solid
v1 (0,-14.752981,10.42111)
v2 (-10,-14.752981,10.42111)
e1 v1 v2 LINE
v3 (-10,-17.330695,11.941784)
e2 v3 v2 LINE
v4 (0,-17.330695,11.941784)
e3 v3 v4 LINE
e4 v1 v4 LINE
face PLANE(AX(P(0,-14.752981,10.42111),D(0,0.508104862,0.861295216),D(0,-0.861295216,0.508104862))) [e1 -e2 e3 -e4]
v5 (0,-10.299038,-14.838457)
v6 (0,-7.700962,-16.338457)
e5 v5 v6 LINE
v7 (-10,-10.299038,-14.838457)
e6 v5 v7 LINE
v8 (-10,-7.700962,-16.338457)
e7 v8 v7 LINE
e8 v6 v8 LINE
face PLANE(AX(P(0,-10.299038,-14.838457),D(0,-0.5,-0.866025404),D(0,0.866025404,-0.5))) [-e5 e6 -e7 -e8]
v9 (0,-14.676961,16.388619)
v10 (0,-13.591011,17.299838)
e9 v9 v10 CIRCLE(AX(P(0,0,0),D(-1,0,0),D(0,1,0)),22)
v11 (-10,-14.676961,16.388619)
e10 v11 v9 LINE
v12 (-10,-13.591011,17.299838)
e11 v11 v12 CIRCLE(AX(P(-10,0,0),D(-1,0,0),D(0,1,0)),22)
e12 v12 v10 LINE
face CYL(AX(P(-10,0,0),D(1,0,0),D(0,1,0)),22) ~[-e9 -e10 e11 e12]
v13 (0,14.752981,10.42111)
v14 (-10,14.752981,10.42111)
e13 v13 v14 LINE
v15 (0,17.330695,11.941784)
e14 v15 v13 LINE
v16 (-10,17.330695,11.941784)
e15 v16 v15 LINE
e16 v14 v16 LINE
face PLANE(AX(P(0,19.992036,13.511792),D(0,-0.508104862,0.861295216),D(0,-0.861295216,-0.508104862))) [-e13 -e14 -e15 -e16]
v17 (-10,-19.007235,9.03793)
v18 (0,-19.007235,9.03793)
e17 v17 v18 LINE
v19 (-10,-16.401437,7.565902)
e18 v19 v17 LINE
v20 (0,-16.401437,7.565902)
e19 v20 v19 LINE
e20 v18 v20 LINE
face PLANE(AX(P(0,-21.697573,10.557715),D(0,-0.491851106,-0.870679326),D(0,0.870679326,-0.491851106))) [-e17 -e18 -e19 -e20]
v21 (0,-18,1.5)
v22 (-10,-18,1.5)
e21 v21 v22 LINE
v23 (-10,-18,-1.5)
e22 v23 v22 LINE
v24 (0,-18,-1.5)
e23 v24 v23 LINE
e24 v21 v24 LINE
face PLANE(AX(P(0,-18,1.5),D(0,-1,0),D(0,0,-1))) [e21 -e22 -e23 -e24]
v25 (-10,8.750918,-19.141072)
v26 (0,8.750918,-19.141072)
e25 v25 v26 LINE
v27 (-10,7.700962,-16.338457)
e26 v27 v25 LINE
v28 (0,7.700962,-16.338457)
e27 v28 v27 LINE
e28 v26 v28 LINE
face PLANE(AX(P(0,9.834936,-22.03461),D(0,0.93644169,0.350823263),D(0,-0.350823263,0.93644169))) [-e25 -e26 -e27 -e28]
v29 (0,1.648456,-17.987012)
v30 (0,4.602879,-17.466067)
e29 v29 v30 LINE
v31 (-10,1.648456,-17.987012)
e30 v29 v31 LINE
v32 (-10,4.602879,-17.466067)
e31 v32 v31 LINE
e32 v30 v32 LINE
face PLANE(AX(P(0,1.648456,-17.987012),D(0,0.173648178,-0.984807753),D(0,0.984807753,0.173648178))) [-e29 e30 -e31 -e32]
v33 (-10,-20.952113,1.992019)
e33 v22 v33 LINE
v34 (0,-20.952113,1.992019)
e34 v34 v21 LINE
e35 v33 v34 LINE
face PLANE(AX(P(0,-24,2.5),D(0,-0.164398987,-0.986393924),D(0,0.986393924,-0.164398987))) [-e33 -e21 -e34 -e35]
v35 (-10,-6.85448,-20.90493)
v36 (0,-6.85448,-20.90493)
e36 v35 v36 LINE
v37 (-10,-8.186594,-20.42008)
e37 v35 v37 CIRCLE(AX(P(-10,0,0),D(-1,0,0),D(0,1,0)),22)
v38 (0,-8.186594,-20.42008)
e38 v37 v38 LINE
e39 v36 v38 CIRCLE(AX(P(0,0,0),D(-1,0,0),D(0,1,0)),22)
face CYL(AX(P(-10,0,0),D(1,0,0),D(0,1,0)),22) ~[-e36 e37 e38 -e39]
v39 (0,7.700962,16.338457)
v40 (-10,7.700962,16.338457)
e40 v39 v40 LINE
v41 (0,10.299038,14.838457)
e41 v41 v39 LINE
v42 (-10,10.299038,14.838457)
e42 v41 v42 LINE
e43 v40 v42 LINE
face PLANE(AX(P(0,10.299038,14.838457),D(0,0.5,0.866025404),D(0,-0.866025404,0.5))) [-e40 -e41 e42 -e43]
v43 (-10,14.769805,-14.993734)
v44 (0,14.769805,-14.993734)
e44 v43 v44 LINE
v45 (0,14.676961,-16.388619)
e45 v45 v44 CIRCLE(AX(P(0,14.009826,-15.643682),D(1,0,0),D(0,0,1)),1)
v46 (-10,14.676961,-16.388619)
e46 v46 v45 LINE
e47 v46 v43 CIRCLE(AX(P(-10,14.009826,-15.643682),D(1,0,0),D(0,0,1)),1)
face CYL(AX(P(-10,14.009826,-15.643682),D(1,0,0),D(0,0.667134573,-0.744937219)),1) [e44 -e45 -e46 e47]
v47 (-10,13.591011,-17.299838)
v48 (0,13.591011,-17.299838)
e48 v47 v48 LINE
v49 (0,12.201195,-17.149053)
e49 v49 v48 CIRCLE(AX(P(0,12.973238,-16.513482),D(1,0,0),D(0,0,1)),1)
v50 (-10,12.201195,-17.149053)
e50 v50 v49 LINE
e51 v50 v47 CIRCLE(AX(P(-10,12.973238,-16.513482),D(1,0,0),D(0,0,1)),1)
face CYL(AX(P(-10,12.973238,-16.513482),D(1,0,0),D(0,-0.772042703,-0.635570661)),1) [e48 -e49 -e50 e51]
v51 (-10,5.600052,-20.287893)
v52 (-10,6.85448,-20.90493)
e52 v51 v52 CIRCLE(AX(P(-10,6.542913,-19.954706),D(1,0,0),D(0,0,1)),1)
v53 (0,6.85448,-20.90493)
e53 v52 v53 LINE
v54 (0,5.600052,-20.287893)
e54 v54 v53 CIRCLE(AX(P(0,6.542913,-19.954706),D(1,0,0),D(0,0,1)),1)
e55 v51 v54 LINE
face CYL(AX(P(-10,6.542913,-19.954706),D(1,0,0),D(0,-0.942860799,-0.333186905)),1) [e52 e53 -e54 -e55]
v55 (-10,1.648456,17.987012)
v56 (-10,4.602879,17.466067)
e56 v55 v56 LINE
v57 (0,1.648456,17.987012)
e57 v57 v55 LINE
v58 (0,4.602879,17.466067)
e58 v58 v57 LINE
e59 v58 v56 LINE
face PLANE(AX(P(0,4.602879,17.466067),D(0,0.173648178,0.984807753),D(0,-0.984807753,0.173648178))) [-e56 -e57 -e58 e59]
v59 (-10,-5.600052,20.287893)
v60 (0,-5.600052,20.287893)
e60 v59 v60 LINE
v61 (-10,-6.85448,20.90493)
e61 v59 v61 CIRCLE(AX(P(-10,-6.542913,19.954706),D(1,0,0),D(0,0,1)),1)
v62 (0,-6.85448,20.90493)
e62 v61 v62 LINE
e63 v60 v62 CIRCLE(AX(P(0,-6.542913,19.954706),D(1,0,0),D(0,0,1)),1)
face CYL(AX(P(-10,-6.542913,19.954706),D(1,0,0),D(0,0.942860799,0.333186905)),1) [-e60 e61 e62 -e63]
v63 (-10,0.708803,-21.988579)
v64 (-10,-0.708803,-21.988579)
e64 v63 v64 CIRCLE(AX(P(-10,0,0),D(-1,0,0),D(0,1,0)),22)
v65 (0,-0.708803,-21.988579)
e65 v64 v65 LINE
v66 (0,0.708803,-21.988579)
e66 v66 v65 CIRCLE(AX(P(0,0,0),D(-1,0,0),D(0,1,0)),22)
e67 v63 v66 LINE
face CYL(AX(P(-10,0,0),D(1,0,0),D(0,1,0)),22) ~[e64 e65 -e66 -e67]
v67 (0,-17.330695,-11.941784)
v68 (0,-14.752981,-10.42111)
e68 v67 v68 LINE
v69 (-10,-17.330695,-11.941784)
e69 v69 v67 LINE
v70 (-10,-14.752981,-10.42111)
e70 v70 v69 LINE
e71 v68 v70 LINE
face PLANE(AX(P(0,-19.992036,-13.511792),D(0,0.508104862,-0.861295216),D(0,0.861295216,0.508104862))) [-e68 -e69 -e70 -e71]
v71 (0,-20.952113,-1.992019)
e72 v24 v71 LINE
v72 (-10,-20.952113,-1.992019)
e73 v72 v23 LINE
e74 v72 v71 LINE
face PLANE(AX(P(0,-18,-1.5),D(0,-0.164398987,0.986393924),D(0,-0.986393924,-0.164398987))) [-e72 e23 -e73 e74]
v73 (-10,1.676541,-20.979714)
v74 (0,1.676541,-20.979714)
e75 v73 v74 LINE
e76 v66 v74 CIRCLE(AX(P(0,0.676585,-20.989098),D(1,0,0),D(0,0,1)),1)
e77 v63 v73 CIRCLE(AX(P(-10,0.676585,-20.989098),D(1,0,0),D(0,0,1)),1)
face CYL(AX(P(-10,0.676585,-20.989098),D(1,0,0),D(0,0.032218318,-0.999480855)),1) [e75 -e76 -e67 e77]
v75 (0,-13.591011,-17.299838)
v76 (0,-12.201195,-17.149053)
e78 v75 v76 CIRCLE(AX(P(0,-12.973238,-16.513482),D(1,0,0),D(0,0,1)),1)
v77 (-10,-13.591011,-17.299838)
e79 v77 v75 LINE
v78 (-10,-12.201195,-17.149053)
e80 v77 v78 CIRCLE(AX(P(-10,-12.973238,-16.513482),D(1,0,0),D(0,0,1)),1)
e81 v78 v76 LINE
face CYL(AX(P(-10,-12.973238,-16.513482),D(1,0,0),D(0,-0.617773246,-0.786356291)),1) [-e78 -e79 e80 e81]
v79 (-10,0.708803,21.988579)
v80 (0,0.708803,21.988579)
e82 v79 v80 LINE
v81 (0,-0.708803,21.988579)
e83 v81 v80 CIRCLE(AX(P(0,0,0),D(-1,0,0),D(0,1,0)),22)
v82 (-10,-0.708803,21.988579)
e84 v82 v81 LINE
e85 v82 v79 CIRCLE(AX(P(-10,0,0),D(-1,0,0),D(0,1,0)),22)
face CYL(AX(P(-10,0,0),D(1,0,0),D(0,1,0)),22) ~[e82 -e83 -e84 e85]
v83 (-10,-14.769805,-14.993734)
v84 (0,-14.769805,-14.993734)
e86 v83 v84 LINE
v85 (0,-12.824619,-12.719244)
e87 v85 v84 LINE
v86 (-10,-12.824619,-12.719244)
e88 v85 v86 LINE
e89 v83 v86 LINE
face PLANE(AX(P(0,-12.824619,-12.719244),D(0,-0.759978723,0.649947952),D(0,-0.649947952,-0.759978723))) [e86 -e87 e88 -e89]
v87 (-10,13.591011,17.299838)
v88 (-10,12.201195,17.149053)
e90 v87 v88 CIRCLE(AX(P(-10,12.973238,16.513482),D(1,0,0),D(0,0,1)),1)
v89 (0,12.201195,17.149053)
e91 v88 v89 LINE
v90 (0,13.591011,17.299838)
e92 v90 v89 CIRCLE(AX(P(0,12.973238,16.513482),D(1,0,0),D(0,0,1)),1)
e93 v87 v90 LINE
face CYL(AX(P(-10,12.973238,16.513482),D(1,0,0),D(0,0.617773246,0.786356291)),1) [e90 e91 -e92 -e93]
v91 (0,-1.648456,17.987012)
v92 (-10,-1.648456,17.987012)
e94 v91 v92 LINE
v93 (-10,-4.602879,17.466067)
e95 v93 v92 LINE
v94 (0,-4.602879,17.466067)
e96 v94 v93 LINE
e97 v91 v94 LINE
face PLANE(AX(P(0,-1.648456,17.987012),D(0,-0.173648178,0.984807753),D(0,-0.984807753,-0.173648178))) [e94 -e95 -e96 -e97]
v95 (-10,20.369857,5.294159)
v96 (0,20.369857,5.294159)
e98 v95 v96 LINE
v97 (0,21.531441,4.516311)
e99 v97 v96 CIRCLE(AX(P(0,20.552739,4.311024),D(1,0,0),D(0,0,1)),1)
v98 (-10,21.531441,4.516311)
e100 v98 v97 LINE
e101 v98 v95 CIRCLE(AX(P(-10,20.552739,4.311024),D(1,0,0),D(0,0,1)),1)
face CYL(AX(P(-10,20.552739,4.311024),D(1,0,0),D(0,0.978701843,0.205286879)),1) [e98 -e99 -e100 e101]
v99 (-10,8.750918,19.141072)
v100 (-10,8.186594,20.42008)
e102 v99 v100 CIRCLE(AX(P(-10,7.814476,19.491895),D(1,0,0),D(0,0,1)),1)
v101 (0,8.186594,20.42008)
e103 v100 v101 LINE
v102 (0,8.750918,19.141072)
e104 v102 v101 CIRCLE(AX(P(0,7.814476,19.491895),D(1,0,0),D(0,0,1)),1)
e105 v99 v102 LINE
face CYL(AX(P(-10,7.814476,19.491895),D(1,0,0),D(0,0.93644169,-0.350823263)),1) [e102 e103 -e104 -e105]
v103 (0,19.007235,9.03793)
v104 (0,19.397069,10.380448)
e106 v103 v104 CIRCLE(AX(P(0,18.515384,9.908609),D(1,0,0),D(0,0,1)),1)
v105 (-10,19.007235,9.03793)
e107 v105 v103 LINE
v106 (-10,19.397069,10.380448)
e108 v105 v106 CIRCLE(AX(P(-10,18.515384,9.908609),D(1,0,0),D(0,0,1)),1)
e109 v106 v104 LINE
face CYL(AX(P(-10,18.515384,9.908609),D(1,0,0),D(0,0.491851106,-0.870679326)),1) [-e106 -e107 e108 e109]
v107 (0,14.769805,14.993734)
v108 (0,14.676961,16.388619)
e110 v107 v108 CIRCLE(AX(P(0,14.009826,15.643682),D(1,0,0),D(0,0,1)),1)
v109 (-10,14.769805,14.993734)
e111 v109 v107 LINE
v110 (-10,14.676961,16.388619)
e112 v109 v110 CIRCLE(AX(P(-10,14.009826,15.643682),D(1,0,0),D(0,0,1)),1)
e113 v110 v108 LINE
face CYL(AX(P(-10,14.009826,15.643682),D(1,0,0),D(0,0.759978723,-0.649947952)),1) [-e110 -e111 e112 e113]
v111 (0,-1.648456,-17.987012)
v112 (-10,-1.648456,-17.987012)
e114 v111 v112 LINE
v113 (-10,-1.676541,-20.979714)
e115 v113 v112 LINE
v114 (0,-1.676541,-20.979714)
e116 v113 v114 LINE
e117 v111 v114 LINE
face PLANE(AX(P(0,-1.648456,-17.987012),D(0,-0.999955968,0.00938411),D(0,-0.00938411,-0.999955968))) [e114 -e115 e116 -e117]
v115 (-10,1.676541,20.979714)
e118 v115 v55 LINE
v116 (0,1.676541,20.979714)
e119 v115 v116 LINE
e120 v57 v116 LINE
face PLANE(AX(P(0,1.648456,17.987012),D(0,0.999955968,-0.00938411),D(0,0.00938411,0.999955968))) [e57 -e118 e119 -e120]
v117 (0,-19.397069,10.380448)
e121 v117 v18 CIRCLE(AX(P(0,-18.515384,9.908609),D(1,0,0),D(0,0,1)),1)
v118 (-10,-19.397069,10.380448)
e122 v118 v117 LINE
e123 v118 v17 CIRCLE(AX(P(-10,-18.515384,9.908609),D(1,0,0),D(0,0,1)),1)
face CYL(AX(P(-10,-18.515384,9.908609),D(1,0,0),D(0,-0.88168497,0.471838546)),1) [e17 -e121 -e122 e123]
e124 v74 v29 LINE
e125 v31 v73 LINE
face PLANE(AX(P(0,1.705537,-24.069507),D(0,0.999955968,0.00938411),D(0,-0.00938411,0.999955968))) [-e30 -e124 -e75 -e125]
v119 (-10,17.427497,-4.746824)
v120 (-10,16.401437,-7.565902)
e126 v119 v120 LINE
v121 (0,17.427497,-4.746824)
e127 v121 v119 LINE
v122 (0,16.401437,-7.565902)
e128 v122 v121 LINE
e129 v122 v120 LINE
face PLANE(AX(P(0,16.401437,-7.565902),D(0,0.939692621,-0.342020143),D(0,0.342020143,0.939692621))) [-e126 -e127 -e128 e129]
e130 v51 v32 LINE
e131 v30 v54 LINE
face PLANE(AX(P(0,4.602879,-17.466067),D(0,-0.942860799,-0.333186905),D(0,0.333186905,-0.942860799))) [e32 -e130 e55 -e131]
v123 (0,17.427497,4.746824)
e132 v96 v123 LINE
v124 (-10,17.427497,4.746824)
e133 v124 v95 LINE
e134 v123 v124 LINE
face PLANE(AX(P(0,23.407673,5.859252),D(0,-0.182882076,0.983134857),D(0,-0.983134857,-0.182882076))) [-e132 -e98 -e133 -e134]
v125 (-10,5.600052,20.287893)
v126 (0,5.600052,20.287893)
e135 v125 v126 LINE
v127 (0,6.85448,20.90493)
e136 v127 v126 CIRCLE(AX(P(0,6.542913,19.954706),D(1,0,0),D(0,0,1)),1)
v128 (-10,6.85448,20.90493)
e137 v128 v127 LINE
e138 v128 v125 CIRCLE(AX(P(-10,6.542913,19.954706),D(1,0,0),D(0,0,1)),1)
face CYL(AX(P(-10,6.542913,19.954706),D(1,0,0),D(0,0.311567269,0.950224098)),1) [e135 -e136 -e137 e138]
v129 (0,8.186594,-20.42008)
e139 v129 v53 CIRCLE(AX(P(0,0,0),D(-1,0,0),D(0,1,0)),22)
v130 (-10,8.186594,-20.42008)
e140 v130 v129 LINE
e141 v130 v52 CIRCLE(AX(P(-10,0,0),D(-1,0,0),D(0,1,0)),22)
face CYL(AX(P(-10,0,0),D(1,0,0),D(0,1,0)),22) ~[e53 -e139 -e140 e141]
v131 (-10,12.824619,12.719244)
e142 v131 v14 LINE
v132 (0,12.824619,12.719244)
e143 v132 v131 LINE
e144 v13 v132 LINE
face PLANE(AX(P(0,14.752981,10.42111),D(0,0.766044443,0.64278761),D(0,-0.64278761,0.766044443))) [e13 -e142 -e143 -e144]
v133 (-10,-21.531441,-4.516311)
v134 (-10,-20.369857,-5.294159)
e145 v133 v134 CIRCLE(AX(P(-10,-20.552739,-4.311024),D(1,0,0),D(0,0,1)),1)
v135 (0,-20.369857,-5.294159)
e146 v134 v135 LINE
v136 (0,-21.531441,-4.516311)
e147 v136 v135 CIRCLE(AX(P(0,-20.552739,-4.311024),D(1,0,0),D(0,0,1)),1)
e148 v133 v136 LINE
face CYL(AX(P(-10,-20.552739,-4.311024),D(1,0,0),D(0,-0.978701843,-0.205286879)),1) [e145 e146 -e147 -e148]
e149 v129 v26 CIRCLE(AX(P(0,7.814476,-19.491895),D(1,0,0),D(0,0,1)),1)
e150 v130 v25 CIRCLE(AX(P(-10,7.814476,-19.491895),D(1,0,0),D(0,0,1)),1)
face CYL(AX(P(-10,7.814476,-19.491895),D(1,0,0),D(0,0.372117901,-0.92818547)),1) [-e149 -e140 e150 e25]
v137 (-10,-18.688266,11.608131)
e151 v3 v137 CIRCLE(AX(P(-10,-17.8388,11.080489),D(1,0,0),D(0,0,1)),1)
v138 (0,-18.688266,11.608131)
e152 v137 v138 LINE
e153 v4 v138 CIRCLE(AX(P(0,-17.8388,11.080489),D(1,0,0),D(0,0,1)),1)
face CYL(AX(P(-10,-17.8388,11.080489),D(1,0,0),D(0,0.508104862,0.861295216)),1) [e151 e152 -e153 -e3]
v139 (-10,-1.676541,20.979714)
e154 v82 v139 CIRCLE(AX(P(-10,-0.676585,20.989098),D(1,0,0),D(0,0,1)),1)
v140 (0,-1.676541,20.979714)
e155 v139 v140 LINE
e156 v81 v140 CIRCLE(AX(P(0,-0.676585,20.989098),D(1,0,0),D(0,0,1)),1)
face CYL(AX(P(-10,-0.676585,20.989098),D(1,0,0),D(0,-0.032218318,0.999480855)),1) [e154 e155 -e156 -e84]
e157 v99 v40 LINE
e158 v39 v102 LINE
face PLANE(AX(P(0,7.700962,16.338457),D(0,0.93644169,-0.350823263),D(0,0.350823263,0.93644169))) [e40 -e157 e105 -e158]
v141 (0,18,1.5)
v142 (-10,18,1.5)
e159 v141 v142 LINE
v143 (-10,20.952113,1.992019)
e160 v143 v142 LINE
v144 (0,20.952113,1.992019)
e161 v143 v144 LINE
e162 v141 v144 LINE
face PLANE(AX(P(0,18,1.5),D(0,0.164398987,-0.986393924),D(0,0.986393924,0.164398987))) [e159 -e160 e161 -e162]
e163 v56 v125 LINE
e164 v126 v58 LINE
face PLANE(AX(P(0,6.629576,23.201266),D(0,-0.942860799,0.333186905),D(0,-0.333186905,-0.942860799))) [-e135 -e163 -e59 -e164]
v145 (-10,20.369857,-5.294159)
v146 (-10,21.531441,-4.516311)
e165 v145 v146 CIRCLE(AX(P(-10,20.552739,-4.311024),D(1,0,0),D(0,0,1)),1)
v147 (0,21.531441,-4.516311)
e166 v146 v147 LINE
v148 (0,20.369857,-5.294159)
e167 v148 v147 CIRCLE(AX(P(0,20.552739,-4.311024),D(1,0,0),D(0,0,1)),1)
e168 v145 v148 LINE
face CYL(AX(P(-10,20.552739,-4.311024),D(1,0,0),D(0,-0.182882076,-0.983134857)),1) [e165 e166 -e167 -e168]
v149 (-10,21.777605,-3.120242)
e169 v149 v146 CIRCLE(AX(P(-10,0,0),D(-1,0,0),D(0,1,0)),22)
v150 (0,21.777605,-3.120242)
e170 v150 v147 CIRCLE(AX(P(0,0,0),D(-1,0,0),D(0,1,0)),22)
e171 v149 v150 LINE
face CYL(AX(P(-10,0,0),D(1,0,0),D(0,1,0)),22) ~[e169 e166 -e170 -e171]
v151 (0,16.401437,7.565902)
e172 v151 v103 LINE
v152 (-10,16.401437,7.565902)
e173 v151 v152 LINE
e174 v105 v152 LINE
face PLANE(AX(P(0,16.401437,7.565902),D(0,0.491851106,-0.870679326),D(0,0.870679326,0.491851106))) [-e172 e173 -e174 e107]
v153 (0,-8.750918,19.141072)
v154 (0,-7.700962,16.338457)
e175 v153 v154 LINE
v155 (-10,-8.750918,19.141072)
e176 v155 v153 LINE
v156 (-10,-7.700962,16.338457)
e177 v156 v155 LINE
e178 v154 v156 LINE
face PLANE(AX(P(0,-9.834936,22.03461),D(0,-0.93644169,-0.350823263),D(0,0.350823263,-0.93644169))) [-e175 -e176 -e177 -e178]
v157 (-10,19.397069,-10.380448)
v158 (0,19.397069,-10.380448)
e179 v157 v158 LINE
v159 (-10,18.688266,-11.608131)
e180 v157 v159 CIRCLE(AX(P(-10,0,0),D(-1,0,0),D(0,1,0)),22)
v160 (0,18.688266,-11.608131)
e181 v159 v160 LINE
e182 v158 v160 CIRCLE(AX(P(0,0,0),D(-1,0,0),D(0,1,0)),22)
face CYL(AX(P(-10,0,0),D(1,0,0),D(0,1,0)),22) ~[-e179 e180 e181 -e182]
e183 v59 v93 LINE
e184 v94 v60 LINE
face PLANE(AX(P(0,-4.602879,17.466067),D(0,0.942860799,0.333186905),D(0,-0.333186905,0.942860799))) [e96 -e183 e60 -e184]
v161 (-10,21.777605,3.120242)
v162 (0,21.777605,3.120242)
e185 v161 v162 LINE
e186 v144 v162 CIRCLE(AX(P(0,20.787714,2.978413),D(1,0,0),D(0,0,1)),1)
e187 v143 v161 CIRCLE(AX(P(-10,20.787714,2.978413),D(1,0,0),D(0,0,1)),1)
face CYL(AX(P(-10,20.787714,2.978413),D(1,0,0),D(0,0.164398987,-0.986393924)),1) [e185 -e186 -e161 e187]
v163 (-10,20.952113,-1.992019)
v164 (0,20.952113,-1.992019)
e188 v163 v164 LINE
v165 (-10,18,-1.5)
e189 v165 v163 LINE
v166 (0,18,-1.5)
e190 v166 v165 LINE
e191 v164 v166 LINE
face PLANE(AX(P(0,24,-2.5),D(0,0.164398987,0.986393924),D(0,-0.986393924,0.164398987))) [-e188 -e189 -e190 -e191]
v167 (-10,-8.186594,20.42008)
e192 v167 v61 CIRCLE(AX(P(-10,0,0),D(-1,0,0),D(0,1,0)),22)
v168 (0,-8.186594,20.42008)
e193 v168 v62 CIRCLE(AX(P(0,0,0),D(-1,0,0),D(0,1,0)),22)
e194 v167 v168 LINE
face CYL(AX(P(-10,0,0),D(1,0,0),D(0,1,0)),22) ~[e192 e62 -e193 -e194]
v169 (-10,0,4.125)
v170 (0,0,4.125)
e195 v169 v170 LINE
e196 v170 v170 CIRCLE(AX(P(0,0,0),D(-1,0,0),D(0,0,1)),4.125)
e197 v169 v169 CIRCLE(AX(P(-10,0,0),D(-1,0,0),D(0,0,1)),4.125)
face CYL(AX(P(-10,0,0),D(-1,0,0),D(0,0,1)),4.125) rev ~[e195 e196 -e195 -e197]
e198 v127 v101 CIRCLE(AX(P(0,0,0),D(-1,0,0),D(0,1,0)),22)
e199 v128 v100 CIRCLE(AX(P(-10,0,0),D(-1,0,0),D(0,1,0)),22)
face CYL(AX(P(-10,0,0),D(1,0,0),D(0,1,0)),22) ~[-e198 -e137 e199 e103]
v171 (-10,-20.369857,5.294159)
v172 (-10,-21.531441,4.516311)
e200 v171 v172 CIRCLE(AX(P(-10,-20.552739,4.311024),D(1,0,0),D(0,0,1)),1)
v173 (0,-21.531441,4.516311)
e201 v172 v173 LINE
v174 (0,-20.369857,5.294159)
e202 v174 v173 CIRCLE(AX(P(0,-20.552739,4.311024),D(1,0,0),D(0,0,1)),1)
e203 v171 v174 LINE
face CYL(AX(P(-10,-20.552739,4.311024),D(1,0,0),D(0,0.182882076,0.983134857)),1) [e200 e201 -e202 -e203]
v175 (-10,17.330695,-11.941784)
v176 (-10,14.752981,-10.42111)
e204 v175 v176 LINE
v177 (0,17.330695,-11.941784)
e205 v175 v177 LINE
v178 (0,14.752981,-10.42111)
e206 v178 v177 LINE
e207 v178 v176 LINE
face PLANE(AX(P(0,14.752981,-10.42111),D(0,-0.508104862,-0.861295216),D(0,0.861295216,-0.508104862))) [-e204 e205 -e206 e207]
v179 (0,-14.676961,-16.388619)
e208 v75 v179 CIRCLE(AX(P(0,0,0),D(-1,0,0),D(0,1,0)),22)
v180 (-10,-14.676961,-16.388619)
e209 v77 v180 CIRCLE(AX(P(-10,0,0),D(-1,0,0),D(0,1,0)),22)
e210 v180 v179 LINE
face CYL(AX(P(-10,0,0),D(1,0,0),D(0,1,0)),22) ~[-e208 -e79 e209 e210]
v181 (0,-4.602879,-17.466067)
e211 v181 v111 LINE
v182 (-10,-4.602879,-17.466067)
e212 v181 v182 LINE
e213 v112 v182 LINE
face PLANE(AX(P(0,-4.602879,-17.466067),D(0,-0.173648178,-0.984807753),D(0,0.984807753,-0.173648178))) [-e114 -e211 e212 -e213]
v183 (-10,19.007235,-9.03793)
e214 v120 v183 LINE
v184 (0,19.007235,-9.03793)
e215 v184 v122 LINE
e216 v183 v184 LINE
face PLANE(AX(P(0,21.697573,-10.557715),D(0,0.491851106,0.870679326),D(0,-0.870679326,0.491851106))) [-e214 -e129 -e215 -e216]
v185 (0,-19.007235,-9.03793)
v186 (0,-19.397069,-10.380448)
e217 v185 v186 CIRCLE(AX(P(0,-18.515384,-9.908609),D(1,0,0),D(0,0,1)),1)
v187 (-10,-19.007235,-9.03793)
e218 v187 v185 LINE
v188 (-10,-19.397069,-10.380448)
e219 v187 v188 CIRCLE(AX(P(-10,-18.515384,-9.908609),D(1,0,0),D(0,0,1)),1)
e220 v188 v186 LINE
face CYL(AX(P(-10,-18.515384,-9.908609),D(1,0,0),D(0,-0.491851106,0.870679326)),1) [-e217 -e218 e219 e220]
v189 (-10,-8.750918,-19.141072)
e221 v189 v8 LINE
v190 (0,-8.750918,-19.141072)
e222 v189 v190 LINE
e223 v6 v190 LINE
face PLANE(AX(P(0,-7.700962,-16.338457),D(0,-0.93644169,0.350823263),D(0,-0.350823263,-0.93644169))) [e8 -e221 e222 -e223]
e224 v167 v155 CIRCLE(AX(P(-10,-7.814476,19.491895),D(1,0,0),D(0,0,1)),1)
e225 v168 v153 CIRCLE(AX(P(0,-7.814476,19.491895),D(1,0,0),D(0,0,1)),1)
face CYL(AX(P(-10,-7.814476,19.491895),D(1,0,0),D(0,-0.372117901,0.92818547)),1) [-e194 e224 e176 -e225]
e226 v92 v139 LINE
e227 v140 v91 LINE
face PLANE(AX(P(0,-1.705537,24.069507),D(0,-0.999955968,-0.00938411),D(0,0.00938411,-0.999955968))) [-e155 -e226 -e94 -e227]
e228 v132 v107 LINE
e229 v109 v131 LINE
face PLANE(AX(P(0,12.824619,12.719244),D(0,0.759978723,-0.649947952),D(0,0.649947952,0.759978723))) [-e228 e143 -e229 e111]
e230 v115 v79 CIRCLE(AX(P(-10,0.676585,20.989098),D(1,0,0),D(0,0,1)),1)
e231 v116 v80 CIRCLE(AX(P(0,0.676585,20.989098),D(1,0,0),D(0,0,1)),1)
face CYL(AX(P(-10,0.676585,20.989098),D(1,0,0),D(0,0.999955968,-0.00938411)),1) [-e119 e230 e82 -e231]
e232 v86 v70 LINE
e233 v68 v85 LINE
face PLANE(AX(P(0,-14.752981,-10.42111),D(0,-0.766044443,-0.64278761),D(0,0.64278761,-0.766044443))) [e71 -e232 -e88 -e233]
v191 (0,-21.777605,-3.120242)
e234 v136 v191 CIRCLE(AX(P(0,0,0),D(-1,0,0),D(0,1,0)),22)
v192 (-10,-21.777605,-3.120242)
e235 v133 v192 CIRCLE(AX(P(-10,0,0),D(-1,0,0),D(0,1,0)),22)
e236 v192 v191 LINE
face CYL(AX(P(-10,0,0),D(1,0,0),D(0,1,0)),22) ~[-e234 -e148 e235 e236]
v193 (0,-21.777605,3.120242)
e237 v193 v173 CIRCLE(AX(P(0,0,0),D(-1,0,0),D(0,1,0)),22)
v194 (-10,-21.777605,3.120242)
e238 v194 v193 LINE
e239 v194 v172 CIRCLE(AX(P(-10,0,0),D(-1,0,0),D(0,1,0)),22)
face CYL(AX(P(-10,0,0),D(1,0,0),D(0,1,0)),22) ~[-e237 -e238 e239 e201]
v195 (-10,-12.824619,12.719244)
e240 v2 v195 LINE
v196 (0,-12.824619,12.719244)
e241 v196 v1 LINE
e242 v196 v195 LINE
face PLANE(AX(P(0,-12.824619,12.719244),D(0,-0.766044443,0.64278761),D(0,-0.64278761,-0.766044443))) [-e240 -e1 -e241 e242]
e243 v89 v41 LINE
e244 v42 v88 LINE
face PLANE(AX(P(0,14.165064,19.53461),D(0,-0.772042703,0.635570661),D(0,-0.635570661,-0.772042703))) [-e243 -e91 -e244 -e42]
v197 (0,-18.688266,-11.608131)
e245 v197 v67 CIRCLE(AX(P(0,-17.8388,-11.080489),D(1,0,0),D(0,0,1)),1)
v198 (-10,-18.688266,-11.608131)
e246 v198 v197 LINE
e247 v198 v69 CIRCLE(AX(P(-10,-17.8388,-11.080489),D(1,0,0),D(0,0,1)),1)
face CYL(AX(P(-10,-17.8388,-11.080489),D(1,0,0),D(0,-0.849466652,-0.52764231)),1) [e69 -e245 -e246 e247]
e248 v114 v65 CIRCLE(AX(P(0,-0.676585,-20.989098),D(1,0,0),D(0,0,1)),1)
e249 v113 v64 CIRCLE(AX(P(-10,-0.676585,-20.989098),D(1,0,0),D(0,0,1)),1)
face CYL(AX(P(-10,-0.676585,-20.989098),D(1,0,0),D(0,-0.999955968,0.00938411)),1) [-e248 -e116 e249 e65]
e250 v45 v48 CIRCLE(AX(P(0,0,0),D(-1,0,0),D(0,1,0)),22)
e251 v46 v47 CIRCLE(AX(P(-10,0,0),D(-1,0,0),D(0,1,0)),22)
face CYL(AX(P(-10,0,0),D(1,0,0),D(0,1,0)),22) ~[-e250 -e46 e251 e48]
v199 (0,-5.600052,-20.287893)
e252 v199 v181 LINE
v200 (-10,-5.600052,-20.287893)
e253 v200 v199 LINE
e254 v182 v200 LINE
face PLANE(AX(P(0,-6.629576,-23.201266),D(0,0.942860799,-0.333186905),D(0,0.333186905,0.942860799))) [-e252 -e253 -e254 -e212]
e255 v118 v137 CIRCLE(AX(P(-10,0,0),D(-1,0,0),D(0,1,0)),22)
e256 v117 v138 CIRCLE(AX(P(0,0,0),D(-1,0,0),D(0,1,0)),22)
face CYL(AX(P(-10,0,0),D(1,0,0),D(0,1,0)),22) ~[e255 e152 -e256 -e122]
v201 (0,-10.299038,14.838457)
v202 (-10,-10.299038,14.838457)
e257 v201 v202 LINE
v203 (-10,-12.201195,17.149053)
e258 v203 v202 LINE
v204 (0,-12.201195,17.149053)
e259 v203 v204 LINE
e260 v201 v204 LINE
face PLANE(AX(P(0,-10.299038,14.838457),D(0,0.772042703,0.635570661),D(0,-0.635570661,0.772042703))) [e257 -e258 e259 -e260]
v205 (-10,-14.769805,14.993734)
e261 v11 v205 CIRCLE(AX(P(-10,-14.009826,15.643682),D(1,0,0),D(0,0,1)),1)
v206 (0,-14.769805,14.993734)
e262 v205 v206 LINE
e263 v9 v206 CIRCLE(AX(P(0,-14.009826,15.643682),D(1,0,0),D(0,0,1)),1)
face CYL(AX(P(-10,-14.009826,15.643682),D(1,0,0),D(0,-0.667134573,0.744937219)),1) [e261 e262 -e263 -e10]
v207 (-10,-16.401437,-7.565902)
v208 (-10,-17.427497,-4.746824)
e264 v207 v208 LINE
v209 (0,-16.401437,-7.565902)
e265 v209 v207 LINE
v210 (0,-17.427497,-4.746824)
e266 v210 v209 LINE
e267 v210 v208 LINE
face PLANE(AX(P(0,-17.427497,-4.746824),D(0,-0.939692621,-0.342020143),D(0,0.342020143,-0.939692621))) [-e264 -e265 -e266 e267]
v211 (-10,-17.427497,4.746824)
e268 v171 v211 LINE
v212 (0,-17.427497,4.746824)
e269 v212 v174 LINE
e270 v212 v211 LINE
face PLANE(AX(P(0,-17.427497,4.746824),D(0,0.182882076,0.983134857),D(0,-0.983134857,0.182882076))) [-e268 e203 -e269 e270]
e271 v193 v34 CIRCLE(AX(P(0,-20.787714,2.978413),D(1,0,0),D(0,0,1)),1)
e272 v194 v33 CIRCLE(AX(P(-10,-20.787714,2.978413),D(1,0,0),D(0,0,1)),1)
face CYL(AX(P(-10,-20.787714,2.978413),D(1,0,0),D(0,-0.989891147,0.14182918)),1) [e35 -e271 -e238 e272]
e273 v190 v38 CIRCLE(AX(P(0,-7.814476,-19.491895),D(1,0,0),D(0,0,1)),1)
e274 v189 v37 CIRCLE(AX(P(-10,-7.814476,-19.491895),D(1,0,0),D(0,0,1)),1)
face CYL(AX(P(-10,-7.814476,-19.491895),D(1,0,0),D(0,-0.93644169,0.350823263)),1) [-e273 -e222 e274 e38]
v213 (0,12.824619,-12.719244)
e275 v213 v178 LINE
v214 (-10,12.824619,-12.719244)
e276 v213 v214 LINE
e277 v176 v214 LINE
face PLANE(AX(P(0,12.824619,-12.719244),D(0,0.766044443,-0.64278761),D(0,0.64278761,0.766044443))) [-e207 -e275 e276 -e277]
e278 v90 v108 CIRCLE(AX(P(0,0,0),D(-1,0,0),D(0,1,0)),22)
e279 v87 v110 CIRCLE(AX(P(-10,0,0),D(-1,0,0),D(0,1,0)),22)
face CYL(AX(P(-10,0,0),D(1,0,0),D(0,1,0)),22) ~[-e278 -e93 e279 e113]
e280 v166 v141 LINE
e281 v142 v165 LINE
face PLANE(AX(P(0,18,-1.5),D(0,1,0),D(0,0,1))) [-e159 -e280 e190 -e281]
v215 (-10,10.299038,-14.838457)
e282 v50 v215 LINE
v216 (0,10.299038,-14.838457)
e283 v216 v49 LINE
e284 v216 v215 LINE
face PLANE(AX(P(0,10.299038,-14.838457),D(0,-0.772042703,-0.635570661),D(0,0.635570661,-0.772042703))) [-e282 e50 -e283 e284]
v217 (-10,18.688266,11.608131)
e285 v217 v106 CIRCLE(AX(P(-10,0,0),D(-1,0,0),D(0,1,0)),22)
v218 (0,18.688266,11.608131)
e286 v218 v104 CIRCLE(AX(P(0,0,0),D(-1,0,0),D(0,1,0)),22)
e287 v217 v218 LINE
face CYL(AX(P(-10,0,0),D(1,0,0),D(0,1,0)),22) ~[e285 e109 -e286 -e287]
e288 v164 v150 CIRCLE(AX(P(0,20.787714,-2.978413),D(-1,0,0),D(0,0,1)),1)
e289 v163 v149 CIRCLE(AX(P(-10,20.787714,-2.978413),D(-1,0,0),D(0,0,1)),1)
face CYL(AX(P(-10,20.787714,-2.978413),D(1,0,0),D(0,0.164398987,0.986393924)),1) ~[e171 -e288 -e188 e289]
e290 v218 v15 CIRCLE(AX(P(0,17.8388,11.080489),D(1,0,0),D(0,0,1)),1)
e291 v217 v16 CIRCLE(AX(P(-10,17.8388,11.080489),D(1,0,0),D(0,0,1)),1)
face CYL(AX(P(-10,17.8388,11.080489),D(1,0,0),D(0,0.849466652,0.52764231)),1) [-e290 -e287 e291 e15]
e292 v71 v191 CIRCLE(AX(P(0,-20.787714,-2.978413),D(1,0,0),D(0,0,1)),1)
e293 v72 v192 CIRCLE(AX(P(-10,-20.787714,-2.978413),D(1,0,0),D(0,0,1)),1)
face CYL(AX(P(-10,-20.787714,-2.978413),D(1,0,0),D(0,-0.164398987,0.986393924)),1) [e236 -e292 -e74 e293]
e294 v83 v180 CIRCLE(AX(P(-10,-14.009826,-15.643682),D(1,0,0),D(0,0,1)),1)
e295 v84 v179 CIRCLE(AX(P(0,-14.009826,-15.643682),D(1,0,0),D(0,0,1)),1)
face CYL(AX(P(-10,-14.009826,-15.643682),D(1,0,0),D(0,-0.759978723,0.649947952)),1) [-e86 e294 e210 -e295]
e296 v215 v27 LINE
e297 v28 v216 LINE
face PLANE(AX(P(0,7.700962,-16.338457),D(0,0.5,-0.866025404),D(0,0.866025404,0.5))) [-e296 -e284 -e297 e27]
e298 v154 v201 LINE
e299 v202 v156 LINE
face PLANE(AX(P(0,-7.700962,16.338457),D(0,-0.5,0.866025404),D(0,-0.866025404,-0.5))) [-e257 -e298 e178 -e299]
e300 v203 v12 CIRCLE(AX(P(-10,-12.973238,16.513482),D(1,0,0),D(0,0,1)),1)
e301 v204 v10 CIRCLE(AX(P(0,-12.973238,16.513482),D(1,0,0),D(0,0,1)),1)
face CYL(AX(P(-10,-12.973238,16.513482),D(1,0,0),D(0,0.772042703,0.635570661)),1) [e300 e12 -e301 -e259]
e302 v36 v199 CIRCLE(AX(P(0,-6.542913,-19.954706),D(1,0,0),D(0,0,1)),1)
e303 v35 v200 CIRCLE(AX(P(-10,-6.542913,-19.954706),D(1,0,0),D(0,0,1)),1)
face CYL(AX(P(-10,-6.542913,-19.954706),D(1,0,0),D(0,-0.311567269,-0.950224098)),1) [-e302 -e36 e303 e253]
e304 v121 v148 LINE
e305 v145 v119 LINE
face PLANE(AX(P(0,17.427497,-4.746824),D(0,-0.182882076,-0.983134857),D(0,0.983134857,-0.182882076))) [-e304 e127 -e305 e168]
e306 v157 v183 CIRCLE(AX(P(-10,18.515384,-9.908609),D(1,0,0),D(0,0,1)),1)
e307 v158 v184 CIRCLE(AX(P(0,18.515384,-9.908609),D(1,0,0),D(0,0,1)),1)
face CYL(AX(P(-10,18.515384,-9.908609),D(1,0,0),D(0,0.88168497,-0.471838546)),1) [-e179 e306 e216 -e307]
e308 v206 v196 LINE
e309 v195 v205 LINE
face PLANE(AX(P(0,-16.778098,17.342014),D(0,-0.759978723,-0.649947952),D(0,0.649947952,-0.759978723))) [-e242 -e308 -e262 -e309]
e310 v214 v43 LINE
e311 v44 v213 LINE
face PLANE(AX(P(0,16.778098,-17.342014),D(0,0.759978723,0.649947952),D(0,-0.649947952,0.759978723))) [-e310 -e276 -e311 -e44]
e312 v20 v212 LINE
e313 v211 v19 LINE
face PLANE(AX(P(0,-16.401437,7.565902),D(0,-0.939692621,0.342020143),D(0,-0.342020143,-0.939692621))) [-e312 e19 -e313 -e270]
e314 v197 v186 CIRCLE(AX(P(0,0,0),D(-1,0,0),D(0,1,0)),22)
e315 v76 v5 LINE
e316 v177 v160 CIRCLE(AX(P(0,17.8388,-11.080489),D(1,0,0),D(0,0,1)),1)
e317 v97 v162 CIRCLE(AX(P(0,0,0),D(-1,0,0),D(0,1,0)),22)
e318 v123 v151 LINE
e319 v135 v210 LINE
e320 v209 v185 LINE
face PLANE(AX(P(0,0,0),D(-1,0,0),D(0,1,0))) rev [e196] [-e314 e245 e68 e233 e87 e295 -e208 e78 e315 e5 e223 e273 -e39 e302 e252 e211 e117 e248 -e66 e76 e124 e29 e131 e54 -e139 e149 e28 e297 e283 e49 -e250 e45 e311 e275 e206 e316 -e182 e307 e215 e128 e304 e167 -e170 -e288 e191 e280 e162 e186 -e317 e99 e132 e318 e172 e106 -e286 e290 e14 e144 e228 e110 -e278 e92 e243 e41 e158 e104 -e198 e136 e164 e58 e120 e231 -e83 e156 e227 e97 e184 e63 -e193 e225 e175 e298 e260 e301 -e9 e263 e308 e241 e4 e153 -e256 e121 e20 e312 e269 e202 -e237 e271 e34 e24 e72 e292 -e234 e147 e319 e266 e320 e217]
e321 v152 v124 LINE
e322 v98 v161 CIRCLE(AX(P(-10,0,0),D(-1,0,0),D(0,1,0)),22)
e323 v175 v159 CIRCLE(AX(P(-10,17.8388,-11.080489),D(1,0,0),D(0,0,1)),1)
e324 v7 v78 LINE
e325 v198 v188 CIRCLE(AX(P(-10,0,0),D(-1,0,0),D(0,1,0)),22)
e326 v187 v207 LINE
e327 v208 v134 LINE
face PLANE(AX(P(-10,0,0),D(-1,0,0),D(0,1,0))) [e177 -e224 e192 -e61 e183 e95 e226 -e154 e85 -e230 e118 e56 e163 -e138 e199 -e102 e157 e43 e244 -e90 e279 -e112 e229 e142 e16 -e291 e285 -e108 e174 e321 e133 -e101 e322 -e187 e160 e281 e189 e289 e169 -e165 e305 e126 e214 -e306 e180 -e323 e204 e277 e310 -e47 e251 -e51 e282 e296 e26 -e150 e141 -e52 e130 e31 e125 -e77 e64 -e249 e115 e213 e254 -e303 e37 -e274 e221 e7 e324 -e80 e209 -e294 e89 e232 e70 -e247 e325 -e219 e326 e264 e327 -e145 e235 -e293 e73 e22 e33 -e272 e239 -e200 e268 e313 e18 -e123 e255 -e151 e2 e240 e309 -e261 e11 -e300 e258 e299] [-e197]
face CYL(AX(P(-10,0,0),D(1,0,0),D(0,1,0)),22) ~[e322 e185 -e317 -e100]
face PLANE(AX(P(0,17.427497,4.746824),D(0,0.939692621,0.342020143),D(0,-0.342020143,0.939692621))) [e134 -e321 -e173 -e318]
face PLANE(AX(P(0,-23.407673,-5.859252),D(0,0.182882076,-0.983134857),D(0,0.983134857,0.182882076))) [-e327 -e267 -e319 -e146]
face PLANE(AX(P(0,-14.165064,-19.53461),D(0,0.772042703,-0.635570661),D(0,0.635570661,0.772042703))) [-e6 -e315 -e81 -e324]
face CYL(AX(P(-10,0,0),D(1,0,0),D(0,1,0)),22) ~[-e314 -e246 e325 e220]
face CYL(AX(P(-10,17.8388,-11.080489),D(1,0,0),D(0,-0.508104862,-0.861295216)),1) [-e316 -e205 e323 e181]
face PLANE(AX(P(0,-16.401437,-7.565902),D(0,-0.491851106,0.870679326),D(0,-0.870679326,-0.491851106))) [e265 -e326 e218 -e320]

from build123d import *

# Parameters (mm, degrees)
CUT_EXTRUDE1_DEPTH       = 44
FILLET1_R                = 1
CIRPATTERN1_COUNT        = 18
FILLET1_OF_CIRPATTERN1_R = 1
SKETCH4_R                = 4.125
CUT_EXTRUDE2_DEPTH       = 10


with BuildPart() as part:
    # Sketch1 → Revolve1 (revolve)
    with BuildSketch(Plane.XY):
        Polygon((0, 0), (-10, 0), (-10, 5), (-10, 12), (-10, 22), (0, 22), (0, 20), (0, 5), align=None)
    revolve(axis=Axis((0, 0, 0), (-1, 0, 0)))

    # Sketch2 → Cut-Extrude1 (cut)
    with BuildSketch(Plane(origin=(0, 0, 0), x_dir=(0, 0, -1), z_dir=(1, 0, 0))):
        Polygon((-2.5, 24), (2.5, 24), (1.5, 18), (-1.5, 18), align=None)
    cut_extrude1 = extrude(amount=-CUT_EXTRUDE1_DEPTH, mode=Mode.SUBTRACT)

    # Fillet1
    fillet1_edges = [part.edges().sort_by_distance(p)[0] for p in [
        (-5, 21.894776607, -2.149129435),
        (-5, 21.894776607, 2.149129435),
    ]]
    fillet(fillet1_edges, radius=FILLET1_R)

    # CirPattern1: Cut-Extrude1 ×18 about axis
    cirpattern1_axis = Axis((0, 0, 0), (1, 0, 0))
    for i in range(1, CIRPATTERN1_COUNT):
        add(cut_extrude1.rotate(cirpattern1_axis, i * 360 / CIRPATTERN1_COUNT), mode=Mode.SUBTRACT)

    # Fillet1 of CirPattern1
    fillet1_of_cirpattern1_edges = [part.edges().sort_by_distance(p)[0] for p in [
        (-5, 21.309405569, 5.468933563),
        (-5, 19.839314454, 9.507975704),
        (-5, 18.153805725, 12.427362459),
        (-5, 15.390938181, 15.720019781),
        (-5, 12.80858899, 17.886868035),
        (-5, 9.086187617, 20.035997469),
        (-5, 5.918467388, 21.188953343),
        (-5, 1.685508729, 21.935338163),
        (-5, -1.685508729, 21.935338163),
        (-5, -5.918467388, 21.188953343),
        (-5, -9.086187617, 20.035997469),
        (-5, -12.80858899, 17.886868035),
        (-5, -15.390938181, 15.720019781),
        (-5, -18.153805725, 12.427362459),
        (-5, -19.839314454, 9.507975704),
        (-5, -21.309405569, 5.468933563),
        (-5, -21.894776607, 2.149129435),
        (-5, -21.894776607, -2.149129435),
        (-5, -21.309405569, -5.468933563),
        (-5, -19.839314454, -9.507975704),
        (-5, -18.153805725, -12.427362459),
        (-5, -15.390938181, -15.720019781),
        (-5, -12.80858899, -17.886868035),
        (-5, -9.086187617, -20.035997469),
        (-5, -5.918467388, -21.188953343),
        (-5, -1.685508729, -21.935338163),
        (-5, 1.685508729, -21.935338163),
        (-5, 5.918467388, -21.188953343),
        (-5, 9.086187617, -20.035997469),
        (-5, 12.80858899, -17.886868035),
        (-5, 15.390938181, -15.720019781),
        (-5, 18.153805725, -12.427362459),
        (-5, 19.839314454, -9.507975704),
        (-5, 21.309405569, -5.468933563),
    ]]
    fillet(fillet1_of_cirpattern1_edges, radius=FILLET1_OF_CIRPATTERN1_R)

    # Sketch4 → Cut-Extrude2 (cut)
    with BuildSketch(Plane.ZY.offset(10)):
        Circle(SKETCH4_R)
    extrude(amount=-CUT_EXTRUDE2_DEPTH, mode=Mode.SUBTRACT)


solid = part.part
